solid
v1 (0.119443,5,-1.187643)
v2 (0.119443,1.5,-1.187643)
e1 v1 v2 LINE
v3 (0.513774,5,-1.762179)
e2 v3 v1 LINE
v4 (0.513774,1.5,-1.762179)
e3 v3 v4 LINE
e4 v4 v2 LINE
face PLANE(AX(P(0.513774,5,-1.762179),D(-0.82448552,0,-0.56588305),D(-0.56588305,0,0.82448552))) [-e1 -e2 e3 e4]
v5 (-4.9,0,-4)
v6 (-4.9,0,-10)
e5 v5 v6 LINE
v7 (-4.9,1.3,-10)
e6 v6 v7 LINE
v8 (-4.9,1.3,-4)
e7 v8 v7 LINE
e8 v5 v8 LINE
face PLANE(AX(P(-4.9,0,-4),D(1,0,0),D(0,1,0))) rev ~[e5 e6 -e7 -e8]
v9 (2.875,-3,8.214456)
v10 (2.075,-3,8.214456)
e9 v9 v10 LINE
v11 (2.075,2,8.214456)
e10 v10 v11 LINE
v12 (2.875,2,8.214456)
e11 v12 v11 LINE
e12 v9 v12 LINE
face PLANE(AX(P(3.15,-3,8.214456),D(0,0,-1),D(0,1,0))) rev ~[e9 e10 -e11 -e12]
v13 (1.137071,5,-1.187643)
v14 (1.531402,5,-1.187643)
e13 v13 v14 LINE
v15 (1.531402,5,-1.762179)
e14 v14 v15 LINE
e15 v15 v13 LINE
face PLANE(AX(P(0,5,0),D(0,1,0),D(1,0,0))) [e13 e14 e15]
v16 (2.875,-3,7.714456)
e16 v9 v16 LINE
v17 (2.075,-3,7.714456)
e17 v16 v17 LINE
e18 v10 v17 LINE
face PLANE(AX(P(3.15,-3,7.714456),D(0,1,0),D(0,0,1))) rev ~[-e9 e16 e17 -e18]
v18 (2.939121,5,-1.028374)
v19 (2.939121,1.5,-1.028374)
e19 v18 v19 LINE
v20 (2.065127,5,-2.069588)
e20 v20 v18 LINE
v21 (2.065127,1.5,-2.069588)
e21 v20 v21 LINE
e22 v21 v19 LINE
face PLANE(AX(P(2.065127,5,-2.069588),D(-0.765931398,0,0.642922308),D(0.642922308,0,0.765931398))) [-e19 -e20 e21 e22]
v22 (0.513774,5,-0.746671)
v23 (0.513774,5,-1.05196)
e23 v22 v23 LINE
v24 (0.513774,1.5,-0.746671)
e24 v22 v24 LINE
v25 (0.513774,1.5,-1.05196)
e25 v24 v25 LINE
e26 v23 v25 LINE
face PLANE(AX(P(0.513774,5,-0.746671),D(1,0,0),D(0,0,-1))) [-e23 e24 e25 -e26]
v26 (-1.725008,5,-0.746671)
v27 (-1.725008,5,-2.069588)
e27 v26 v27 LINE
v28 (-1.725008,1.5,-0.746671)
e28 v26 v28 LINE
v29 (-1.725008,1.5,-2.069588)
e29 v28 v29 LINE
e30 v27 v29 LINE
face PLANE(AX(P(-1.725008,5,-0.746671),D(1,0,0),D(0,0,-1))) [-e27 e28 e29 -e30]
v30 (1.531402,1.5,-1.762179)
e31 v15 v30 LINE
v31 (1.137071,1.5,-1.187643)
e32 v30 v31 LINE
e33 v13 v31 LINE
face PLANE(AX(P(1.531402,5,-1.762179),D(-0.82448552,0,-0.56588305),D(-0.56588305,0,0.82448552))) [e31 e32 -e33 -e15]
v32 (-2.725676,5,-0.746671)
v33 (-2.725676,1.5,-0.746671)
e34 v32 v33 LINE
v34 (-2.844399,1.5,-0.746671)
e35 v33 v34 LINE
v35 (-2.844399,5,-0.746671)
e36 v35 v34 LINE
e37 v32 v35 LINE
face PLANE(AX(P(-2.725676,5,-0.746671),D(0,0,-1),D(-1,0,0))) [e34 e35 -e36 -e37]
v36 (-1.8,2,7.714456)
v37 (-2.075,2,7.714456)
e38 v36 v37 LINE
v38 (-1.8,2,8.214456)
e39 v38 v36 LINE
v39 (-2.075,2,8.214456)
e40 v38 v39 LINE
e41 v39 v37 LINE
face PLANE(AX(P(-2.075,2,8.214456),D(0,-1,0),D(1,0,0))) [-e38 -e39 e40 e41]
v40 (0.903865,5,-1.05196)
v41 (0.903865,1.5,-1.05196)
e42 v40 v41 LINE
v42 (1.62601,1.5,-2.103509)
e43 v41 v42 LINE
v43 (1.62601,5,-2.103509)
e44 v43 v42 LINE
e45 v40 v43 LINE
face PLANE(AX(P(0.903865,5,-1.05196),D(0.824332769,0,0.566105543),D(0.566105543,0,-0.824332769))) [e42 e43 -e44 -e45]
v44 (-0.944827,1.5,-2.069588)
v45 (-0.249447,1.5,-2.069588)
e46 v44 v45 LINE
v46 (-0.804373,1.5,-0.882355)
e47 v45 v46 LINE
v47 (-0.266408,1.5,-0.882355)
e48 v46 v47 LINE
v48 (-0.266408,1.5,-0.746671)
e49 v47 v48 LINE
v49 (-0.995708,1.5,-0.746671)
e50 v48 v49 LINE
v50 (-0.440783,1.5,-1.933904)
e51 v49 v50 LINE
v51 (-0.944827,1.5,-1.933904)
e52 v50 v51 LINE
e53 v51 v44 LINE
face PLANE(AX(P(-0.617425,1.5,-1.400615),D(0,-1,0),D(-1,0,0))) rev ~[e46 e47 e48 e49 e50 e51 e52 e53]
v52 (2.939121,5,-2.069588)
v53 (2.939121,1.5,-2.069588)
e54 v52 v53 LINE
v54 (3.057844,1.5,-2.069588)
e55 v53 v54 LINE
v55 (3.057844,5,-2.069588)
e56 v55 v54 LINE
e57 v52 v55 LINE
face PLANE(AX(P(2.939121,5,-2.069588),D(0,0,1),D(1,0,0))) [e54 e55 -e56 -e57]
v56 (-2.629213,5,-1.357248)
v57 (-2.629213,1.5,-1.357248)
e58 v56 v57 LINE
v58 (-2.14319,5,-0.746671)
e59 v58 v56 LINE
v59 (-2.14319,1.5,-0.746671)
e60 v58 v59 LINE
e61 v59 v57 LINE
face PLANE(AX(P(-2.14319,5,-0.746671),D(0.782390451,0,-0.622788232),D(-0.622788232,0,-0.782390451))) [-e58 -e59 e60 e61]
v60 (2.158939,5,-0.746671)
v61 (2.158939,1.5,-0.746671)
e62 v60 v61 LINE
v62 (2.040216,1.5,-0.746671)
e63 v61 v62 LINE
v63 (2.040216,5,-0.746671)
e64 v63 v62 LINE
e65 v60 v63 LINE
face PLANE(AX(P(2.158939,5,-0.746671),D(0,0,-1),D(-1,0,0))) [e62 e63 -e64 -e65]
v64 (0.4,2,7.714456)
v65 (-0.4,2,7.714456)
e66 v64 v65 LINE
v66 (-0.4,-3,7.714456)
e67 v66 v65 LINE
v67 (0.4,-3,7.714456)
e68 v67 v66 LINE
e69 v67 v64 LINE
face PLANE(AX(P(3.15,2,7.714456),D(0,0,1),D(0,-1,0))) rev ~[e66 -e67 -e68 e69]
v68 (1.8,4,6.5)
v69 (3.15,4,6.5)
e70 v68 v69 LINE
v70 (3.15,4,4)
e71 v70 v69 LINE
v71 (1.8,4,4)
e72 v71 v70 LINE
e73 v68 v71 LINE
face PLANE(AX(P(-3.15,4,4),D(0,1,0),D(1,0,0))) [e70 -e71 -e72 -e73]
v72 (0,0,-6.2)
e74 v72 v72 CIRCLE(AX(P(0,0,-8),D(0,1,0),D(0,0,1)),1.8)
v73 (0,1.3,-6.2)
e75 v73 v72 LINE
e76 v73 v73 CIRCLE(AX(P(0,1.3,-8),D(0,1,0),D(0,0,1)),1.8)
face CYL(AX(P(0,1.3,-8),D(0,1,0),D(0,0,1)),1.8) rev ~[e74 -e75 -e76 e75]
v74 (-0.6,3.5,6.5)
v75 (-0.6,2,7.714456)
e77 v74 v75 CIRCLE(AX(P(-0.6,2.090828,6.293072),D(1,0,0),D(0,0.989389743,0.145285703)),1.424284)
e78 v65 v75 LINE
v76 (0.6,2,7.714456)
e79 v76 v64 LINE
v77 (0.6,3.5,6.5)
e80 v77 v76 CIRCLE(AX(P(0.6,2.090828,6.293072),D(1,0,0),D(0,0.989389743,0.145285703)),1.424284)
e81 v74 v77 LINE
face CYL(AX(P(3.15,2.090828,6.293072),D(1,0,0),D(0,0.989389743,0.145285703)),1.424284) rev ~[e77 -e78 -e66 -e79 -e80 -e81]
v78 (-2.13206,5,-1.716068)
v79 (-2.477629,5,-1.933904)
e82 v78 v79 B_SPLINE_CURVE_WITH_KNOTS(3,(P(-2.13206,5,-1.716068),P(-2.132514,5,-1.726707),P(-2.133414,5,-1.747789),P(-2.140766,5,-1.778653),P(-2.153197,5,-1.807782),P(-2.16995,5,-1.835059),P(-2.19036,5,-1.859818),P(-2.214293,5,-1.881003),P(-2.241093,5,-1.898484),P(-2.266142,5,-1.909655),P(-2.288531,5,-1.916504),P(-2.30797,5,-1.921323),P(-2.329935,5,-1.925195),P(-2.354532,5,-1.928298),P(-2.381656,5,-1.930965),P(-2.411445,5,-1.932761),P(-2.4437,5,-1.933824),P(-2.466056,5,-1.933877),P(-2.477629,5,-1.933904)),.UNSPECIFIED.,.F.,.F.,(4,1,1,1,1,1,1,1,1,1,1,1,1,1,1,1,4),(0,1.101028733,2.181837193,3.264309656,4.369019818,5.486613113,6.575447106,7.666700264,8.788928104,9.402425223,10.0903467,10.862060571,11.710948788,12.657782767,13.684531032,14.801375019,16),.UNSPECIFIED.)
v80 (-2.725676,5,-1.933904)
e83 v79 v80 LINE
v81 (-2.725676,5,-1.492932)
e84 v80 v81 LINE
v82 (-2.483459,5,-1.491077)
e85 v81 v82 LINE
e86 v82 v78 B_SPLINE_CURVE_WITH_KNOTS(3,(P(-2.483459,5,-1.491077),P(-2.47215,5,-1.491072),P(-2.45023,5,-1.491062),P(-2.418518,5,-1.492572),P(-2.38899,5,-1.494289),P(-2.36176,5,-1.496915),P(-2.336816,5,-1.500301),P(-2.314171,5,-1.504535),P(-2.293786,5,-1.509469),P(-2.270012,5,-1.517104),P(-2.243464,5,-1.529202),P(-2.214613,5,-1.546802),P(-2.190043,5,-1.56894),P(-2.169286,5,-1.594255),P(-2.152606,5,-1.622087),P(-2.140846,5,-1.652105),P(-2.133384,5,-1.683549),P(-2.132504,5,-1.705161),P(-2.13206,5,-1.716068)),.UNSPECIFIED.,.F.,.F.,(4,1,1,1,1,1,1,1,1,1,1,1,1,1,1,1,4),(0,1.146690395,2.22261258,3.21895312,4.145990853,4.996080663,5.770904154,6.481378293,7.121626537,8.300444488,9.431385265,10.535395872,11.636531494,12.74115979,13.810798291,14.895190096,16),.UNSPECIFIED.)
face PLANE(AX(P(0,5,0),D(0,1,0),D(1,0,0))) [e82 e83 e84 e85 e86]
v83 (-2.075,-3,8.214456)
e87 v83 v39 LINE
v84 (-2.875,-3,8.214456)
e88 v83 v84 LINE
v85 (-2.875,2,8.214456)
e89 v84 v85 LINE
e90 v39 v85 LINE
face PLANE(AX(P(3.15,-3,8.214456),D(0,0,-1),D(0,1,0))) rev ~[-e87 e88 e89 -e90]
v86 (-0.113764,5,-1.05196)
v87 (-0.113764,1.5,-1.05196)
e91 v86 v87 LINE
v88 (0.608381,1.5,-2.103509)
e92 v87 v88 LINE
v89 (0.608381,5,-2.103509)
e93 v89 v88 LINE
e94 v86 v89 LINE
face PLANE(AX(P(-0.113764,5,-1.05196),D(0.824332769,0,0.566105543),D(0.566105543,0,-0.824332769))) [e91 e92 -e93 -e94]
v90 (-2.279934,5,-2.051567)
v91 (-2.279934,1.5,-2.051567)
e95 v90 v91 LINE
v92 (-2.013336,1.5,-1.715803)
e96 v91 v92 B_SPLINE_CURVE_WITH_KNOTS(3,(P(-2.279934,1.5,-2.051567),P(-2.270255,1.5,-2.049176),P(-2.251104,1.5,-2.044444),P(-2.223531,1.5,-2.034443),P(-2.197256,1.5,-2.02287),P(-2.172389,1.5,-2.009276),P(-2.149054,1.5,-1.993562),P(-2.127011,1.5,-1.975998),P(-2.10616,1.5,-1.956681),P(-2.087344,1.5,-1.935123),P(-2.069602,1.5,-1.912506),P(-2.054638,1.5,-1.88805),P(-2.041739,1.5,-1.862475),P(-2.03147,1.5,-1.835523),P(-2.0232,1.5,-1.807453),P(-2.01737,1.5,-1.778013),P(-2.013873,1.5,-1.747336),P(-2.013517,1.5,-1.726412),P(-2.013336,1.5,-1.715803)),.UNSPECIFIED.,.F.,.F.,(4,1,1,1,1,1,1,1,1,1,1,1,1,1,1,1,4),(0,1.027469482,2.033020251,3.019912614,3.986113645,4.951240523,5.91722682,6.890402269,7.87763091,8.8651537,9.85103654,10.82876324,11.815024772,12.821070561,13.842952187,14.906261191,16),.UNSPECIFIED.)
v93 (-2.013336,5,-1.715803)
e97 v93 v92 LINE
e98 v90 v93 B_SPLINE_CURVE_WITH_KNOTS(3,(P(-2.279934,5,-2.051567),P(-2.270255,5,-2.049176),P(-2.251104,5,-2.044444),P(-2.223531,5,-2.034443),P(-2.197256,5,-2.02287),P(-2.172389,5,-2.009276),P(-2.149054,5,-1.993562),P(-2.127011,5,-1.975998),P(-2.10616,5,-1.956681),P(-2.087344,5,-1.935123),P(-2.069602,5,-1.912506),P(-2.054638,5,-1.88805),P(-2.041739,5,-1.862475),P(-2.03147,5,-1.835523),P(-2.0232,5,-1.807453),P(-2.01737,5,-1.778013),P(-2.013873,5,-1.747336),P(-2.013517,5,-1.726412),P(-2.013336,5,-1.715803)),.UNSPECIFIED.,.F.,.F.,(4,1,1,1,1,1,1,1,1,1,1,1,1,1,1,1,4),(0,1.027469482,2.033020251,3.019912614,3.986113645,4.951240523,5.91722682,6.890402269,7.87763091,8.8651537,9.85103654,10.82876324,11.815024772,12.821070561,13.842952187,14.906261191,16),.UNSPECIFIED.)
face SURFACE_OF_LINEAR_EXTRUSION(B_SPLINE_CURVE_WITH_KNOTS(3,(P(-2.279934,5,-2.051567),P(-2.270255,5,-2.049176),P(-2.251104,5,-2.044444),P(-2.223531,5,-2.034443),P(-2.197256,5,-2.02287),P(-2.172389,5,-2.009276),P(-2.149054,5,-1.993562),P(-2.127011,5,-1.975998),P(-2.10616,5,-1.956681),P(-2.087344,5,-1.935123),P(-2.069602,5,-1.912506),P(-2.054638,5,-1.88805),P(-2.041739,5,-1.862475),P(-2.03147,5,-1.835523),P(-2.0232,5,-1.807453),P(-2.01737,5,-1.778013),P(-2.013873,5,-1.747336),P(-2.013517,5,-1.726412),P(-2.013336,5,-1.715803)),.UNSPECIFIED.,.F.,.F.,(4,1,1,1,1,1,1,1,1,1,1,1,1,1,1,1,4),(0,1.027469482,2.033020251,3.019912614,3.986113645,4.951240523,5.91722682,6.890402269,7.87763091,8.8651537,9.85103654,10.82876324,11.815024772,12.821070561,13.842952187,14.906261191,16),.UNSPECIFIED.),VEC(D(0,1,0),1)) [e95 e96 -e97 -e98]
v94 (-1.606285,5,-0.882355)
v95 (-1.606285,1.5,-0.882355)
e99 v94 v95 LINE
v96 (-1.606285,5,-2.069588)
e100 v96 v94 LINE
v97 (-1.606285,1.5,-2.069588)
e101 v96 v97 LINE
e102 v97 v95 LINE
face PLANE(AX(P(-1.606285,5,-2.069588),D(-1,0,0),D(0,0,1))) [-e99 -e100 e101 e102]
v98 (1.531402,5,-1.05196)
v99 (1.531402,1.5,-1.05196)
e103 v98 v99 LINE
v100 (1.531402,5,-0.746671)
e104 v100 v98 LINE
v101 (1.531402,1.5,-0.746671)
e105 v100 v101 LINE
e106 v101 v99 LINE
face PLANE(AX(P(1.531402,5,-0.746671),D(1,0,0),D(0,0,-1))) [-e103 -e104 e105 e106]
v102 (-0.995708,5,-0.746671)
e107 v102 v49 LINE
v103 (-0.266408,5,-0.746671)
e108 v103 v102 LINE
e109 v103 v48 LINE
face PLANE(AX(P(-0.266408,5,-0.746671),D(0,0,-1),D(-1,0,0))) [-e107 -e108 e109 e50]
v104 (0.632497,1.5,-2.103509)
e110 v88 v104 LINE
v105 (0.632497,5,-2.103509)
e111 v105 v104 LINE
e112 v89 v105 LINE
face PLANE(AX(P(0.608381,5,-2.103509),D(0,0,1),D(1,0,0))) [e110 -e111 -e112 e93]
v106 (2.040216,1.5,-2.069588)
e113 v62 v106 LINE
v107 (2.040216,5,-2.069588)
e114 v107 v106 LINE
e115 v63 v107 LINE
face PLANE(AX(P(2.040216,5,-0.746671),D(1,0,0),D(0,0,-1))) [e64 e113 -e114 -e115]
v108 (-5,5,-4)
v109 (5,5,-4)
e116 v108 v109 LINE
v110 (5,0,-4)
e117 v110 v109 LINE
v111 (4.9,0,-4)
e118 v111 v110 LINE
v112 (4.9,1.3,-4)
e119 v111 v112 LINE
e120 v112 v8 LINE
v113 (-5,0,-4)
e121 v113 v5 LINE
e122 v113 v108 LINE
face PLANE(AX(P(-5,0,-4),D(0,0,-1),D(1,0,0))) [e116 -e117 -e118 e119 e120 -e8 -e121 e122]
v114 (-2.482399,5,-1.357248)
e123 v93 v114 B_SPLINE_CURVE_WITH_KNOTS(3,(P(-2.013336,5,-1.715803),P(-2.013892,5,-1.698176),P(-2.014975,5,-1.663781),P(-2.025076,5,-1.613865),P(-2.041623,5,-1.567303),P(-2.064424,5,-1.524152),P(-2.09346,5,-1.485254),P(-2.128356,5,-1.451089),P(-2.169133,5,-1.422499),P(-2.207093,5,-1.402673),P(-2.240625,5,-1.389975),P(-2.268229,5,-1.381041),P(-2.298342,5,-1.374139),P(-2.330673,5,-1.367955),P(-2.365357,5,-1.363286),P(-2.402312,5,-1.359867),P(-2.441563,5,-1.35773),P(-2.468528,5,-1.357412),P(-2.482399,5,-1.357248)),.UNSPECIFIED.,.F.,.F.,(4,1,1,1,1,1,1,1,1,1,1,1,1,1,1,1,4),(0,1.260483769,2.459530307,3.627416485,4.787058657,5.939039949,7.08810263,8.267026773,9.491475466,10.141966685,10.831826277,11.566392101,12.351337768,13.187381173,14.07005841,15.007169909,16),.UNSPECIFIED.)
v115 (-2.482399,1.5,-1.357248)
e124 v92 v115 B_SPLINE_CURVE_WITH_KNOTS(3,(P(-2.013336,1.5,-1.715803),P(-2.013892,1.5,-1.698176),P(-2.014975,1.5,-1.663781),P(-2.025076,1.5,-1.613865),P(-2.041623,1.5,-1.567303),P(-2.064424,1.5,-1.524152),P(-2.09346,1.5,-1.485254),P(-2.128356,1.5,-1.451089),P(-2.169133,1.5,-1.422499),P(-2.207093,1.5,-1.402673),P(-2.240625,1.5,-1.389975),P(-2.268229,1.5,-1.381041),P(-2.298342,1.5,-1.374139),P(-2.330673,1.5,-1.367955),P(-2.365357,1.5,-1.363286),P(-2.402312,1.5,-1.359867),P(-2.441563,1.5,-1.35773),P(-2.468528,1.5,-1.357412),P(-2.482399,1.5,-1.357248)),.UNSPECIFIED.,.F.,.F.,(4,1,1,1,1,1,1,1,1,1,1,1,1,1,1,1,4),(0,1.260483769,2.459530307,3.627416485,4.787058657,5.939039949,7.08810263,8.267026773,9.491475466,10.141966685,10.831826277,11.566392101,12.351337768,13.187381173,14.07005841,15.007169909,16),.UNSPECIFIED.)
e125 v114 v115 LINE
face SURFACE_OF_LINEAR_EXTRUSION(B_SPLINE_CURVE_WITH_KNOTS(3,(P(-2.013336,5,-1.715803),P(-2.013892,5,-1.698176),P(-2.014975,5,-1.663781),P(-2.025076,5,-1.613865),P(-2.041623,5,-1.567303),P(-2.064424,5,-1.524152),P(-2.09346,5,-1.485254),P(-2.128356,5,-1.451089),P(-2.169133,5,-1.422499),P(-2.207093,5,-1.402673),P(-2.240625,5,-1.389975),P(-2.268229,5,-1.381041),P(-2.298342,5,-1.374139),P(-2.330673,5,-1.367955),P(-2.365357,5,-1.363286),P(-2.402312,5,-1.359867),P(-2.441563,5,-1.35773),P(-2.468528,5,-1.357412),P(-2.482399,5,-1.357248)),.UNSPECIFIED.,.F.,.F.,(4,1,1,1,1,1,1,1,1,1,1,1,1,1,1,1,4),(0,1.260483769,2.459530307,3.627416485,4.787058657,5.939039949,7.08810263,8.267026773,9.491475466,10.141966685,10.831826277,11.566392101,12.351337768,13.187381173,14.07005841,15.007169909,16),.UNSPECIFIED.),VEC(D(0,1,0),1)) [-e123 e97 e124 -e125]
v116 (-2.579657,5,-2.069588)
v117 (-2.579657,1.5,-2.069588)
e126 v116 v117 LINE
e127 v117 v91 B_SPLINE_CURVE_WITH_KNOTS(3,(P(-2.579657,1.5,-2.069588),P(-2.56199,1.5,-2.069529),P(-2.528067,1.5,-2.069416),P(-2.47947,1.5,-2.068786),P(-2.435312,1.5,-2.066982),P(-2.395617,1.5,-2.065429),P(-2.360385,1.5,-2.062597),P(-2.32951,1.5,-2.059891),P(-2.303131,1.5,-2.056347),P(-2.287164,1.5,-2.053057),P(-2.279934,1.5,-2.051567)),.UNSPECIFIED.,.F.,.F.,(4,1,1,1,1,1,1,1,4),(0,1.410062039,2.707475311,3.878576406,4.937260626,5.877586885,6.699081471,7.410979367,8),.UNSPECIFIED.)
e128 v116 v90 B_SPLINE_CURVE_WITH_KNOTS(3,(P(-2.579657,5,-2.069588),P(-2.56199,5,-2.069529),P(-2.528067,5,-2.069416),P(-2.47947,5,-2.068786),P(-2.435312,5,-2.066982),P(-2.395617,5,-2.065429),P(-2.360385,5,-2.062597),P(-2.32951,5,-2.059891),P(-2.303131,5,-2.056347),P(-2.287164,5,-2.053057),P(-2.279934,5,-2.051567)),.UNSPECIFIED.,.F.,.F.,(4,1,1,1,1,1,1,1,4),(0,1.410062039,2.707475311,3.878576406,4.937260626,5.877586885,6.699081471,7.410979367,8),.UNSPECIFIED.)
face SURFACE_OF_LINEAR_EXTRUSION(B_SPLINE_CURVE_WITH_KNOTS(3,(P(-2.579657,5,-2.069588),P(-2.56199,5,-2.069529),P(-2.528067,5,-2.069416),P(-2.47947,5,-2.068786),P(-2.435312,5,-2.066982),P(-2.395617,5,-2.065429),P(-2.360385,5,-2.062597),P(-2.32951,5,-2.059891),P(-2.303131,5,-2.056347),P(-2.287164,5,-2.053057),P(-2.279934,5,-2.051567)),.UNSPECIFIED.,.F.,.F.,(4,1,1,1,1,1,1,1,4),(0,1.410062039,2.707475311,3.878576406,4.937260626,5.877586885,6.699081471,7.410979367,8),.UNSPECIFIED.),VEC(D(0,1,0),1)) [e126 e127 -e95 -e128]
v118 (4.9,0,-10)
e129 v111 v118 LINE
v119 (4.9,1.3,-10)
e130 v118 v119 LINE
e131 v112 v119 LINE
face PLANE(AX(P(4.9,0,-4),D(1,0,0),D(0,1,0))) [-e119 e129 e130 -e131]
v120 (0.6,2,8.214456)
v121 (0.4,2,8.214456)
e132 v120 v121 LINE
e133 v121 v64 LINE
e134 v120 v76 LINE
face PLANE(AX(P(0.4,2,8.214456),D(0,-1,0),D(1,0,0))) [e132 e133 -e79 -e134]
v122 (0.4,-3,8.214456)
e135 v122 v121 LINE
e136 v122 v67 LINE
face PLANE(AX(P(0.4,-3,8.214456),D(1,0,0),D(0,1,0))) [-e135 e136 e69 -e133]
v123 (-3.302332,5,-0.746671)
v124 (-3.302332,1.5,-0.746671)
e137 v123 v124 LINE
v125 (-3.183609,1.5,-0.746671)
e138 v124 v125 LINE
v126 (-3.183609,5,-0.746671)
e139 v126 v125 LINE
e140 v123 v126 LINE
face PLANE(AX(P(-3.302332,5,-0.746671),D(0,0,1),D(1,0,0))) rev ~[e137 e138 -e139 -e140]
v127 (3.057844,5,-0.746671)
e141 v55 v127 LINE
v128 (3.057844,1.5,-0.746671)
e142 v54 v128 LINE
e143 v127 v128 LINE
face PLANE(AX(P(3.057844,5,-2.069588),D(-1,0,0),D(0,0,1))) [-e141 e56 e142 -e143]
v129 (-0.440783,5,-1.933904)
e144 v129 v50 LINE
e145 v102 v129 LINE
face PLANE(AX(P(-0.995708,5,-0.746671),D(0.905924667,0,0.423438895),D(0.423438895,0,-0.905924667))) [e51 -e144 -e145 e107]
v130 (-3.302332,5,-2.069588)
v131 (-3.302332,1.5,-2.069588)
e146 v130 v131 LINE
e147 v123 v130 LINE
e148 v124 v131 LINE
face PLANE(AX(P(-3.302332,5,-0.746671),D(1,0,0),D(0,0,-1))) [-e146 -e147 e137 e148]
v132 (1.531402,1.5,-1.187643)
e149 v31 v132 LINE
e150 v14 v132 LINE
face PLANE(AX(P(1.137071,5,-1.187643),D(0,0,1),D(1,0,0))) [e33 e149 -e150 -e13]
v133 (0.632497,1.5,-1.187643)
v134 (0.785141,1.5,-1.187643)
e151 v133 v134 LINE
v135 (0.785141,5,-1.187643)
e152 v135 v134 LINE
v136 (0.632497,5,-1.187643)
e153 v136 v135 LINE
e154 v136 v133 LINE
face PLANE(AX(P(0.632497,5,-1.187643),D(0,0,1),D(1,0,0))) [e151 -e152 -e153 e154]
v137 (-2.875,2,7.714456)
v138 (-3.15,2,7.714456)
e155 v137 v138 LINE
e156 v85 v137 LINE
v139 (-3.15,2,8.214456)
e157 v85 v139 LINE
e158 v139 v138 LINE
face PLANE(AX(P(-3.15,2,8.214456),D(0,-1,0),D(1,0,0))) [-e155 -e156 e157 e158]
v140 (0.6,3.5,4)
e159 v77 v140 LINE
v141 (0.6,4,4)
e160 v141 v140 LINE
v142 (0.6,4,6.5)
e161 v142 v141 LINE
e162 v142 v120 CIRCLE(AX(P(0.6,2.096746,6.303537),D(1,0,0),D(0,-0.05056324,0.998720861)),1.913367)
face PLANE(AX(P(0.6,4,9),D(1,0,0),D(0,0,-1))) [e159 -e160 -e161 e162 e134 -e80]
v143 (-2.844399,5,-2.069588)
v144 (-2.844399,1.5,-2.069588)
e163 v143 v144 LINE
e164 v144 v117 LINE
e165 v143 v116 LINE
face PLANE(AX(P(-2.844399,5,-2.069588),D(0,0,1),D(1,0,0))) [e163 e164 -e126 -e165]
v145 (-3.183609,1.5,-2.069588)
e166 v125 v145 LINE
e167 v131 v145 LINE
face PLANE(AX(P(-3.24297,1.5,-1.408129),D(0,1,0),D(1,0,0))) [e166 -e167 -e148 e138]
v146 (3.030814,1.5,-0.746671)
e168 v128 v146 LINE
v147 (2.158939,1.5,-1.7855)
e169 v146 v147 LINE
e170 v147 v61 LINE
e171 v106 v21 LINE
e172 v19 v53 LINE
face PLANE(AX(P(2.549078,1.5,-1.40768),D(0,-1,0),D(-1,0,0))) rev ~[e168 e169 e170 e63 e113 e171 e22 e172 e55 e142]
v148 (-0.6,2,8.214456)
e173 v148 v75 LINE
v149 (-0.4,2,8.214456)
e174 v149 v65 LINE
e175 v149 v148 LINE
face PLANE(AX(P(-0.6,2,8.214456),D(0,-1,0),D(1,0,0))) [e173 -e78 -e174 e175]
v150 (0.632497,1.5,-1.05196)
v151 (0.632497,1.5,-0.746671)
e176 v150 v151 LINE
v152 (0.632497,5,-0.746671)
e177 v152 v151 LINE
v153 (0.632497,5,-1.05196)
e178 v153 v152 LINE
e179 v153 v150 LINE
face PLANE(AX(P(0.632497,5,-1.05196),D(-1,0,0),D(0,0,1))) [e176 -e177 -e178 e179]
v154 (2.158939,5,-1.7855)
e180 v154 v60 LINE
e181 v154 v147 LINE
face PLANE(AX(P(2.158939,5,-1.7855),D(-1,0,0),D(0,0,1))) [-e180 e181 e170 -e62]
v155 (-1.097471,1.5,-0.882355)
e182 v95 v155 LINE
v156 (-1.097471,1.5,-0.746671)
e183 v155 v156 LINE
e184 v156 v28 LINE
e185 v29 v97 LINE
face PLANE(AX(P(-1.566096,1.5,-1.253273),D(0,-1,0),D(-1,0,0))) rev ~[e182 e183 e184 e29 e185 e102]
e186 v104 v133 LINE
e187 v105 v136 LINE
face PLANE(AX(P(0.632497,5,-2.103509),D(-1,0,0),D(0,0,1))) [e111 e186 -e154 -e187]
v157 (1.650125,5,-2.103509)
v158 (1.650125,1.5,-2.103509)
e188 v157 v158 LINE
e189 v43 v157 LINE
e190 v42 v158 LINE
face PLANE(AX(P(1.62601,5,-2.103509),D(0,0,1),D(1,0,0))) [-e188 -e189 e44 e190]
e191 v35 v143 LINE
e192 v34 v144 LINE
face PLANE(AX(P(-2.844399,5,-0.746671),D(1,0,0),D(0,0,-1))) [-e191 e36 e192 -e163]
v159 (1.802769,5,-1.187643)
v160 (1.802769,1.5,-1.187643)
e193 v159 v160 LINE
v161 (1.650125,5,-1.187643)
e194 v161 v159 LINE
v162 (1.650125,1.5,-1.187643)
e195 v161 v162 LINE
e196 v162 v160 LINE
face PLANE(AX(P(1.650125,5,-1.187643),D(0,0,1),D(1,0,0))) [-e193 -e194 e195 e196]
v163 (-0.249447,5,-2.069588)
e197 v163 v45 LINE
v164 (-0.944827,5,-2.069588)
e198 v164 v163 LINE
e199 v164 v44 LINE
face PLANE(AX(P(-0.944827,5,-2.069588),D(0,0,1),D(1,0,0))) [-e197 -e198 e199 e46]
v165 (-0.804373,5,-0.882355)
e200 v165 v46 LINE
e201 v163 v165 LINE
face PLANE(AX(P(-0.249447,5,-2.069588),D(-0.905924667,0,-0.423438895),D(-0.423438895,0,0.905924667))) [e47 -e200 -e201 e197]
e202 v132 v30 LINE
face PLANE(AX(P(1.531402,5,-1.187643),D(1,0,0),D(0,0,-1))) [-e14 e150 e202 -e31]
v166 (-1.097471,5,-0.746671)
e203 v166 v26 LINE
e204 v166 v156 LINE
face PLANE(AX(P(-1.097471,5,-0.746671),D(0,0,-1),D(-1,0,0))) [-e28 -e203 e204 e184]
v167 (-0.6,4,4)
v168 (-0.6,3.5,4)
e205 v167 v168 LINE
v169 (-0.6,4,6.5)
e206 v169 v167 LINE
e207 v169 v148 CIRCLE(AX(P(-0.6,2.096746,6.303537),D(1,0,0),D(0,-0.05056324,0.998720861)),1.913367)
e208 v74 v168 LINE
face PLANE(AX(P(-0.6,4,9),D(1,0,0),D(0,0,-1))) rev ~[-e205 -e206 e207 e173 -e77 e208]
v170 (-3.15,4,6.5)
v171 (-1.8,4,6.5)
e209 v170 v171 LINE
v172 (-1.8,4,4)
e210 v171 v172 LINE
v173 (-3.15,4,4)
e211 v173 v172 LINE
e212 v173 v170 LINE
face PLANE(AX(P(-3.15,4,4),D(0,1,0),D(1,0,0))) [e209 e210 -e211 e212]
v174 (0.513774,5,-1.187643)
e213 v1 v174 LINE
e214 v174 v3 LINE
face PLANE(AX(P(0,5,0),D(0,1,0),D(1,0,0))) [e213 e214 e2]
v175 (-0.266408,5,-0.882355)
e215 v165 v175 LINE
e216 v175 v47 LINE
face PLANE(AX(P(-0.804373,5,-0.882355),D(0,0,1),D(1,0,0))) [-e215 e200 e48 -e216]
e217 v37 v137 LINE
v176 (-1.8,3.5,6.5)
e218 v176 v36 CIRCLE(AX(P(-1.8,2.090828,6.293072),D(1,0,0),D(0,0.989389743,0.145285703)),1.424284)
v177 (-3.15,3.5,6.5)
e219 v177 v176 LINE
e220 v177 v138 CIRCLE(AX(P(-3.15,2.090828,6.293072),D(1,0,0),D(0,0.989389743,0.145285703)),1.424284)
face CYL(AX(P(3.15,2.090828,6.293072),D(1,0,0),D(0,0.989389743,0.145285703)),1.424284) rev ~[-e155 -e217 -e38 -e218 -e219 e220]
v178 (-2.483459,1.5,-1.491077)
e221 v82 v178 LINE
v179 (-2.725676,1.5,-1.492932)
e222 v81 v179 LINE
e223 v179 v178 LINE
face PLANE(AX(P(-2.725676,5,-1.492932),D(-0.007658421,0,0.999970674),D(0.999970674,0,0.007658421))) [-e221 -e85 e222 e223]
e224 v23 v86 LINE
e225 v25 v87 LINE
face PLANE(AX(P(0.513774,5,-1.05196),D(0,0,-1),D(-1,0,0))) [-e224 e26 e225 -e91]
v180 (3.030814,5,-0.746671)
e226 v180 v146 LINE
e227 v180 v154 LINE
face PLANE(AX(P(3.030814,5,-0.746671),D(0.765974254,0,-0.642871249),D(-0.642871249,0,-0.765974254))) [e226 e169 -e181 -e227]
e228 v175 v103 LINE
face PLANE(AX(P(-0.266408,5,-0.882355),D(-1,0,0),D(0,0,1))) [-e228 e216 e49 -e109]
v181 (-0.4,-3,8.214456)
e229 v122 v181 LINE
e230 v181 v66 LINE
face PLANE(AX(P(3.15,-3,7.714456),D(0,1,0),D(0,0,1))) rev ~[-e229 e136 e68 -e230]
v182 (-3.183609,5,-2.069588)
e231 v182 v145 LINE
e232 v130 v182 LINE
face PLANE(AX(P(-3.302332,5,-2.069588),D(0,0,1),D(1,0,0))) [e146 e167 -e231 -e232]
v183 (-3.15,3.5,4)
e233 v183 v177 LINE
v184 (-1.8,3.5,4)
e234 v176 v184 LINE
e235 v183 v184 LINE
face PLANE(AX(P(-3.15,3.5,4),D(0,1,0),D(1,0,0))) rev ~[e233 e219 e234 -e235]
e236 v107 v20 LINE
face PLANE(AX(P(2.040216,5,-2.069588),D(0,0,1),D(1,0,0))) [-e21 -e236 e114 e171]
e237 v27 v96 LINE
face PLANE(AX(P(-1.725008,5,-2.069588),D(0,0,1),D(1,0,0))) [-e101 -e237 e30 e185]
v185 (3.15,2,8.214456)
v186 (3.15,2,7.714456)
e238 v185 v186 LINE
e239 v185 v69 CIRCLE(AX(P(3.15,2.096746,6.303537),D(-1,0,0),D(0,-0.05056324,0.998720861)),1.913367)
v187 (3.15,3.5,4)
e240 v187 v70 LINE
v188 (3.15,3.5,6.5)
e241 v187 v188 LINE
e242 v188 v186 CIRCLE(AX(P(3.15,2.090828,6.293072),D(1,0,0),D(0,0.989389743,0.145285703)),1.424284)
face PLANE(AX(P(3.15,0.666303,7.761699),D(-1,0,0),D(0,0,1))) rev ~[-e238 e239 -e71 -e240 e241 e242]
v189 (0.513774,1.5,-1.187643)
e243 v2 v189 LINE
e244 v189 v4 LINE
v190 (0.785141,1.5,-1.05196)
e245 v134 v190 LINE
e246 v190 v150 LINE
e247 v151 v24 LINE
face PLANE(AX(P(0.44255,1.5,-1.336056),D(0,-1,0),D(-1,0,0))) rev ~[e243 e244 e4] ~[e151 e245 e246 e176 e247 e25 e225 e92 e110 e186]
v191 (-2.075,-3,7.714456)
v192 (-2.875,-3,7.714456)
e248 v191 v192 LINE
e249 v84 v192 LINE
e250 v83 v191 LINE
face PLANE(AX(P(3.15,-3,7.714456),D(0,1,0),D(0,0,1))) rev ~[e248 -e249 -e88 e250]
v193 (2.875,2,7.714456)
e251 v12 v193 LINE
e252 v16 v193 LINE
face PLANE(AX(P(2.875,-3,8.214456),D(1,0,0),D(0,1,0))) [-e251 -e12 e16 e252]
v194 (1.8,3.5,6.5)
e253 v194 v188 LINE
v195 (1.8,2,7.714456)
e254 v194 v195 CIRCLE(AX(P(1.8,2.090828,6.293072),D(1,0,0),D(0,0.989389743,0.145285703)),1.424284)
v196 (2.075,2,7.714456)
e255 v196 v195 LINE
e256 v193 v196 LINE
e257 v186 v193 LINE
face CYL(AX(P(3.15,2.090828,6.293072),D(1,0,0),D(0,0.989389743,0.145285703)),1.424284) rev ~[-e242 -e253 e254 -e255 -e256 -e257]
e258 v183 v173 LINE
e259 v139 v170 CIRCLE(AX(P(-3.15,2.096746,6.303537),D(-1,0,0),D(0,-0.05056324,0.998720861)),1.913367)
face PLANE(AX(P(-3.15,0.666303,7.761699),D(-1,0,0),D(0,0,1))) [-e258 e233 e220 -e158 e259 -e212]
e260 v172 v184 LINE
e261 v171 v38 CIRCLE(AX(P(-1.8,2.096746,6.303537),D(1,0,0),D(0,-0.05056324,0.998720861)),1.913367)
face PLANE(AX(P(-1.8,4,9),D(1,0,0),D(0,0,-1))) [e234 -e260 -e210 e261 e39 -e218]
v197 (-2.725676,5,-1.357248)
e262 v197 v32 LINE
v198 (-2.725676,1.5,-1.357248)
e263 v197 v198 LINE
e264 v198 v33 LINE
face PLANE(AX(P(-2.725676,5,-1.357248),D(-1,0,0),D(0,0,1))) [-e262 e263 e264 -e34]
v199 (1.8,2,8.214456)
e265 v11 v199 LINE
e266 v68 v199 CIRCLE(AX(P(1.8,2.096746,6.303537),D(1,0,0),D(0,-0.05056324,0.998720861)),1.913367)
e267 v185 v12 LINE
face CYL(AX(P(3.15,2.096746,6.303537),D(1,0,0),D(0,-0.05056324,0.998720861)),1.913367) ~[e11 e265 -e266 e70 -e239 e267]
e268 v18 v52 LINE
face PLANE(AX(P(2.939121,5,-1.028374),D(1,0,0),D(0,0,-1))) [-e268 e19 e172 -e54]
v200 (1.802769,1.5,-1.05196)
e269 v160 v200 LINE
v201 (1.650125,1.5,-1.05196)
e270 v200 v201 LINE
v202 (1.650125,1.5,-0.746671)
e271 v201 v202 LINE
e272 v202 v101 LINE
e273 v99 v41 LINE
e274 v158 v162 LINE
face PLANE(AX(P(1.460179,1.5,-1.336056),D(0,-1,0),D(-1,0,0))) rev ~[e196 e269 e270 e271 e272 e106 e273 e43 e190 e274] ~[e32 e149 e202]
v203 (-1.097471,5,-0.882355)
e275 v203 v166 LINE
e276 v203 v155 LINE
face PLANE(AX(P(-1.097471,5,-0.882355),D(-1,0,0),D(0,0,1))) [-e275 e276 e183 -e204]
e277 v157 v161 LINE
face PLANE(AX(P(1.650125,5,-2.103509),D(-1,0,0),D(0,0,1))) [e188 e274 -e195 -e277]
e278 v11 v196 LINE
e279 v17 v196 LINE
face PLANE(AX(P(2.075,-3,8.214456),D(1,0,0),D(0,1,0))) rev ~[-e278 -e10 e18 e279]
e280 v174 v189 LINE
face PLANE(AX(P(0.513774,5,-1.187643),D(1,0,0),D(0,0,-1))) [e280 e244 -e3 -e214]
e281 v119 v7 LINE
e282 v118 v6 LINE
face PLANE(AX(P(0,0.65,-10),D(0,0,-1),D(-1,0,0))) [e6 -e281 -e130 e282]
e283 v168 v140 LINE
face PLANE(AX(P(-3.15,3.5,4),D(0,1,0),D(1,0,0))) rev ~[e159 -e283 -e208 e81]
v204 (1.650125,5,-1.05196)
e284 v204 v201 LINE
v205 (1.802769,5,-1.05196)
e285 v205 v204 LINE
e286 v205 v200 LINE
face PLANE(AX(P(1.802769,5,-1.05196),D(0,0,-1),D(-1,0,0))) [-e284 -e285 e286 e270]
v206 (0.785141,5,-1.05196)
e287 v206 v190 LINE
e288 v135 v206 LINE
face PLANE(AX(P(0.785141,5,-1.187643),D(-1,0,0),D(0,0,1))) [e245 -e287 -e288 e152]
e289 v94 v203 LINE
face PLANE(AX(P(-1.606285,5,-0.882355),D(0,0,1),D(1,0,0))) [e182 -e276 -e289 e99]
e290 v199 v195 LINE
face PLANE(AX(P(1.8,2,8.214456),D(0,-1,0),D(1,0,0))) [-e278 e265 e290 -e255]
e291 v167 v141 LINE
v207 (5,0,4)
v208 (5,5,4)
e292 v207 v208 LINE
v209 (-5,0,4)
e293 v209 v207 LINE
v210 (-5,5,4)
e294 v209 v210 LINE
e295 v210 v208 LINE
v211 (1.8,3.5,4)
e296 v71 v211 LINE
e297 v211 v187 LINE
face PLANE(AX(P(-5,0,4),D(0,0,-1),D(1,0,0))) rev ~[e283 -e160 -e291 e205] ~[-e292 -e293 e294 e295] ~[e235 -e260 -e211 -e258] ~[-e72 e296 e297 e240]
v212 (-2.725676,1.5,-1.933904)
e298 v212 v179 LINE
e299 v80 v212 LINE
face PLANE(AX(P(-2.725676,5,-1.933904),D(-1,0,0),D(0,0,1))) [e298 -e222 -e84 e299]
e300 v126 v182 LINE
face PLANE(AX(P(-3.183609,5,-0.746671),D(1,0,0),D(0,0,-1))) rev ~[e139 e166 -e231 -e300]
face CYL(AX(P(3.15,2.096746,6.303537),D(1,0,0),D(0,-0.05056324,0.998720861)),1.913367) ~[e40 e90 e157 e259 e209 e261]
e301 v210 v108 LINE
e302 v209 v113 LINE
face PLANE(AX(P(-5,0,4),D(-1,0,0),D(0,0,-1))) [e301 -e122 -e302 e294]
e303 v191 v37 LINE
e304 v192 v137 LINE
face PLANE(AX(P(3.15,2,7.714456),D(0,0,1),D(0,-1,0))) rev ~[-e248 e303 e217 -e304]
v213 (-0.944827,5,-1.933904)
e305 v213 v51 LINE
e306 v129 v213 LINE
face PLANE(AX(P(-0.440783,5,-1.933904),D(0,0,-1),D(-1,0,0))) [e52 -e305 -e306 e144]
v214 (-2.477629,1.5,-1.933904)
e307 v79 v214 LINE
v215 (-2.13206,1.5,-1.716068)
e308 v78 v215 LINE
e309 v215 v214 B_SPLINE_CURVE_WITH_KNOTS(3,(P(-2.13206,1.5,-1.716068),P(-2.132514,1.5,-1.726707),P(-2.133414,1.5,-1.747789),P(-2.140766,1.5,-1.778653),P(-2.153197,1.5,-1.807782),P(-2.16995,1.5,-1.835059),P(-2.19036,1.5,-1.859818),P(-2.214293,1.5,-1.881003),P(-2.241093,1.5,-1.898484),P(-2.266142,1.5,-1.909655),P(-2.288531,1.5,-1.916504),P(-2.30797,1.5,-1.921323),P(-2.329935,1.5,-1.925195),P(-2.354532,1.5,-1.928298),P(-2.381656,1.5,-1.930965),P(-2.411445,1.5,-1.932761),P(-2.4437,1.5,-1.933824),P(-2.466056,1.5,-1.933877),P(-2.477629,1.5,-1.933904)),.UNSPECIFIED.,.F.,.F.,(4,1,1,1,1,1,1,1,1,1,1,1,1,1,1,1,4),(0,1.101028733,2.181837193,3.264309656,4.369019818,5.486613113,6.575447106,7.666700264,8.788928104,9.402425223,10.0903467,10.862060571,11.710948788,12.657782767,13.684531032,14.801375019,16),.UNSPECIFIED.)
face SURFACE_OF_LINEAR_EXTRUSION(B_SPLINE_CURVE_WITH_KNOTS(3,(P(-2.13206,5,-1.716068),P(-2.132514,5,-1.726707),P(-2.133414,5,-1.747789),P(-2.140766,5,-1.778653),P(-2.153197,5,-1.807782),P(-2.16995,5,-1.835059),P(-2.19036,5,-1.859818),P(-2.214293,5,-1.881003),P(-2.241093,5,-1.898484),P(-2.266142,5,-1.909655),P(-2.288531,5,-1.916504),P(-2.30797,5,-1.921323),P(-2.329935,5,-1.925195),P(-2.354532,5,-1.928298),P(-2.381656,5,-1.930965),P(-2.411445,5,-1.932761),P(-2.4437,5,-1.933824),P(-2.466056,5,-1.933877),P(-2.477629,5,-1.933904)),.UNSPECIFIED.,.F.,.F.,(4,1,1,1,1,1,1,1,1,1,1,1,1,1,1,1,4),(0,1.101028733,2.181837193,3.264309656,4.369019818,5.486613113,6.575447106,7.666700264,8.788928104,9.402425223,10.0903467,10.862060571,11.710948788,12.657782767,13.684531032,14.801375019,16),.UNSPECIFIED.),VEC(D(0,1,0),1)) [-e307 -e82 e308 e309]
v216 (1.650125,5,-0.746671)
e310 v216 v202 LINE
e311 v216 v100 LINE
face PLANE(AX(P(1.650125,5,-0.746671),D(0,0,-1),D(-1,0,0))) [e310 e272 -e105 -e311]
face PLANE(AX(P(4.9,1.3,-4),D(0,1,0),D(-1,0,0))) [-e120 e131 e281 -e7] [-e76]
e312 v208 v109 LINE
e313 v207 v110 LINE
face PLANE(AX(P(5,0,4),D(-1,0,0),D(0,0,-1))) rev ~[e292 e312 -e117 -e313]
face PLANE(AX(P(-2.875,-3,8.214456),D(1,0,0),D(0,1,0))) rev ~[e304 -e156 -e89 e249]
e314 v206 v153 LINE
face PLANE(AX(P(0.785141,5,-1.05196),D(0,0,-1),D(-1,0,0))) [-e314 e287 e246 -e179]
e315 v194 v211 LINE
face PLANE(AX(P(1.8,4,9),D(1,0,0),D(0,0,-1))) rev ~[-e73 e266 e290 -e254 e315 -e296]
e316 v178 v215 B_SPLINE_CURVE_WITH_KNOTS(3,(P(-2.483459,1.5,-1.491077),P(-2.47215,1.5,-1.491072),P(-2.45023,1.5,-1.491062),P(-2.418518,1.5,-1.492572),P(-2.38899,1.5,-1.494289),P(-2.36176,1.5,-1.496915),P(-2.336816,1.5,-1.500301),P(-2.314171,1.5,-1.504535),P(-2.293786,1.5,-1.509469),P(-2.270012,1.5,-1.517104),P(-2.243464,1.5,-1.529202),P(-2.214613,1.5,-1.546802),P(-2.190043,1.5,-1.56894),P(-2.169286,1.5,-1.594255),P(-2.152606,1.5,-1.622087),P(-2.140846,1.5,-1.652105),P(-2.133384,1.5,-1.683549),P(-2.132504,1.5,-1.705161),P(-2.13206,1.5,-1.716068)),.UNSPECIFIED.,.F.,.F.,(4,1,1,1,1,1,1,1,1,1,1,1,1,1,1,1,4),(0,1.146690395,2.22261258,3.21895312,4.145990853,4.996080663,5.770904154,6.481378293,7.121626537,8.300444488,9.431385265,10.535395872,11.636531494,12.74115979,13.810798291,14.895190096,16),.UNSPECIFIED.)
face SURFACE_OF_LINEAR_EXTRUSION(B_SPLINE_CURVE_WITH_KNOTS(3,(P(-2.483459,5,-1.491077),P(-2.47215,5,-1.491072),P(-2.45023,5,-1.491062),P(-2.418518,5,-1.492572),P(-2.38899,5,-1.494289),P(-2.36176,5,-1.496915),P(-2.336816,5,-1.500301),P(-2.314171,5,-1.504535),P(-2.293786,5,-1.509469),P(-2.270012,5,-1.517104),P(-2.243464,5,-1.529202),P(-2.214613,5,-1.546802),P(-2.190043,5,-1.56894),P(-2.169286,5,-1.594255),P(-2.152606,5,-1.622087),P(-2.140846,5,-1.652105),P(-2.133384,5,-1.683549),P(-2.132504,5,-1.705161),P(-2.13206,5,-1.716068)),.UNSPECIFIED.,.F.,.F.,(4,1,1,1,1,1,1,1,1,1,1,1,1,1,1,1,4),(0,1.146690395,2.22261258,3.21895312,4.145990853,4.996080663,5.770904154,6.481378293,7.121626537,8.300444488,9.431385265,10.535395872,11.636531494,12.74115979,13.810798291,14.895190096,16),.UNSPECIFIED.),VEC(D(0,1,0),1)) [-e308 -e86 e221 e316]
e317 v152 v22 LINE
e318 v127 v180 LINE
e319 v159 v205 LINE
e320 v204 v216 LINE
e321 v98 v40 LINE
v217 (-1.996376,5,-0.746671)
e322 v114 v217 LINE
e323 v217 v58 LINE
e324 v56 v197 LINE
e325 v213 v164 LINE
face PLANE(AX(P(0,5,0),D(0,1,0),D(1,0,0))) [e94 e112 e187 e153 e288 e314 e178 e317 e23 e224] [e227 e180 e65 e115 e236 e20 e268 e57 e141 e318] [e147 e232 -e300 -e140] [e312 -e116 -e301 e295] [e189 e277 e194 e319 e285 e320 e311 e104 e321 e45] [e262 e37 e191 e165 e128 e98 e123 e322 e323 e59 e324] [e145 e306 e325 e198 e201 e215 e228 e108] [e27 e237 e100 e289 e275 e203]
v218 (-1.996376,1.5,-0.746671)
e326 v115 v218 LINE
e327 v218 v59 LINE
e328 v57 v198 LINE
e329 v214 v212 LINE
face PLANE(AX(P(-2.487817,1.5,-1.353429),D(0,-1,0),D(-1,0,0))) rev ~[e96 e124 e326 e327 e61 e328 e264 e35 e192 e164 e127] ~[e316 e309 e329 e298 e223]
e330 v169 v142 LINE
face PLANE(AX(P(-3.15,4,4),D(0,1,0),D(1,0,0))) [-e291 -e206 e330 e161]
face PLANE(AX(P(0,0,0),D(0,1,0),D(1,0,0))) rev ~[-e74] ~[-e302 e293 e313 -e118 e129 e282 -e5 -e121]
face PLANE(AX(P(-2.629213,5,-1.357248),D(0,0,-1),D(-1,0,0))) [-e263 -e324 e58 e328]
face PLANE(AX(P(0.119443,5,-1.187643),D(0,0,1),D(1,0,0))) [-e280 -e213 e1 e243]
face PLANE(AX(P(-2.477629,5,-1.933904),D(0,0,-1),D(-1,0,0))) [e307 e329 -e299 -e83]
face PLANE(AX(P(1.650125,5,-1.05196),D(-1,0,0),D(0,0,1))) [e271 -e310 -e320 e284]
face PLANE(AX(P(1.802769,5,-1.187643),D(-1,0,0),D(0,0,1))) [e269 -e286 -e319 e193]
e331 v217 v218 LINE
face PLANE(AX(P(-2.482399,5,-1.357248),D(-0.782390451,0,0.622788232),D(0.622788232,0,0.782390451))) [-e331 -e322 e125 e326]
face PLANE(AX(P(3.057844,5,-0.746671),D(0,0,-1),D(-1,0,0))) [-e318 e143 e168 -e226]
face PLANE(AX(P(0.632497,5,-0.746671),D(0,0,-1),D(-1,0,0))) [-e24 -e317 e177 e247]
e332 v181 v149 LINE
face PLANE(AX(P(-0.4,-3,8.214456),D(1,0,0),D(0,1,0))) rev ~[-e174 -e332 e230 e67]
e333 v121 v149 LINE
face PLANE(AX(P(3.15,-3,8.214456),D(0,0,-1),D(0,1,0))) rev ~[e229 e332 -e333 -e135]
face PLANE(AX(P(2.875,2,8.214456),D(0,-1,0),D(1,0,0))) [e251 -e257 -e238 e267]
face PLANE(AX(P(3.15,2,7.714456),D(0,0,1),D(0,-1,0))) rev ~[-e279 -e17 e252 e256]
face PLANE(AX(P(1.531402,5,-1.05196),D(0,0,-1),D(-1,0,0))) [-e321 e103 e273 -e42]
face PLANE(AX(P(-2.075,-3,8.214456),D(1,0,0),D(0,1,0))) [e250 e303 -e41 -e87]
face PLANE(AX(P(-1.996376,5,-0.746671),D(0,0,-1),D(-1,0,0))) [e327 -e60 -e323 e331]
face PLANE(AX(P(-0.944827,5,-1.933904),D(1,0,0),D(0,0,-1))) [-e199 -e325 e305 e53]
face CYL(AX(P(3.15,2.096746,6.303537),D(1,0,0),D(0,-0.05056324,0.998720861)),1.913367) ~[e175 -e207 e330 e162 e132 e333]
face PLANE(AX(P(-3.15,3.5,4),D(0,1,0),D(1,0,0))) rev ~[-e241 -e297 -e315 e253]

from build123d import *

# Parameters (mm, degrees)
SKETCH1_W           = 10
SKETCH1_H           = 8
BOSS_EXTRUDE1_DEPTH = 5
SKETCH2_W           = 9.8
SKETCH2_H           = 1.3
BOSS_EXTRUDE2_DEPTH = 6
SKETCH3_W           = 6.3
SKETCH3_H           = 0.5
BOSS_EXTRUDE3_DEPTH = 2.5
BOSS_EXTRUDE4_START = -6.3
BOSS_EXTRUDE4_DEPTH = 6.3
SKETCH5_W           = 1.2
SKETCH5_H           = 5
CUT_EXTRUDE1_DEPTH  = 14.190905958
SKETCH6_W           = 0.275
SKETCH6_H           = 5
SKETCH6_W_2         = 0.2
CUT_EXTRUDE2_DEPTH  = 3.5
SKETCH7_R           = 1.8
CUT_EXTRUDE3_DEPTH  = 3.5
SKETCH8_W           = 0.11872329
SKETCH8_H           = 1.322916667
CUT_EXTRUDE4_DEPTH  = 3.5


with BuildPart() as part:
    # Sketch1 → Boss-Extrude1 (new body)
    with BuildSketch(Plane(origin=(0, 0, 0), x_dir=(1, 0, 0), z_dir=(0, 1, 0))):
        Rectangle(SKETCH1_W, SKETCH1_H)
    extrude(amount=BOSS_EXTRUDE1_DEPTH)

    # Sketch2 → Boss-Extrude2 (add)
    with BuildSketch(Plane(origin=(0, 0, -4), x_dir=(-1, 0, 0), z_dir=(0, 0, -1))):
        with Locations((0, 0.65)):
            Rectangle(SKETCH2_W, SKETCH2_H)
    extrude(amount=BOSS_EXTRUDE2_DEPTH)

    # Sketch3 → Boss-Extrude3 (add)
    with BuildSketch(Plane.XY.offset(4)):
        with Locations((0, 3.75)):
            Rectangle(SKETCH3_W, SKETCH3_H)
    extrude(amount=BOSS_EXTRUDE3_DEPTH)

    # Sketch4 → Boss-Extrude4 (add)
    with BuildSketch(Plane.ZY.offset(3.15).offset(BOSS_EXTRUDE4_START)):
        with BuildLine():
            Line((7.714456463, 2), (7.714456463, -3))
            Line((7.714456463, -3), (8.214456463, -3))
            Line((8.214456463, -3), (8.214456463, 2))
            ThreePointArc((8.214456463, 2), (7.756212161, 3.342020289), (6.5, 4))
            Line((6.5, 4), (6.5, 3.5))
            ThreePointArc((6.5, 3.5), (7.40002744, 2.98706126), (7.714456463, 2))
        make_face()
    extrude(amount=BOSS_EXTRUDE4_DEPTH)

    # Sketch5 → Cut-Extrude1 (cut, through all)
    with BuildSketch(Plane(origin=(0, 4, 0), x_dir=(1, 0, 0), z_dir=(0, 1, 0))):
        with Locations((-1.2, -6.5)):
            Rectangle(SKETCH5_W, SKETCH5_H)
        with Locations((1.2, -6.5)):
            Rectangle(SKETCH5_W, SKETCH5_H)
    extrude(amount=-CUT_EXTRUDE1_DEPTH, mode=Mode.SUBTRACT)

    # Sketch6 → Cut-Extrude2 (cut)
    with BuildSketch(Plane.XY.offset(8.214456463)):
        with Locations((-3.0125, -0.5)):
            Rectangle(SKETCH6_W, SKETCH6_H)
        with Locations((-1.9375, -0.5)):
            Rectangle(SKETCH6_W, SKETCH6_H)
        with Locations((-0.5, -0.5)):
            Rectangle(SKETCH6_W_2, SKETCH6_H)
        with Locations((0.5, -0.5)):
            Rectangle(SKETCH6_W_2, SKETCH6_H)
        with Locations((1.9375, -0.5)):
            Rectangle(SKETCH6_W, SKETCH6_H)
        with Locations((3.0125, -0.5)):
            Rectangle(SKETCH6_W, SKETCH6_H)
    extrude(amount=-CUT_EXTRUDE2_DEPTH, mode=Mode.SUBTRACT)

    # Sketch7 → Cut-Extrude3 (cut)
    with BuildSketch(Plane(origin=(0, 1.3, 0), x_dir=(1, 0, 0), z_dir=(0, 1, 0))):
        with Locations(Location((0, 8, 0), (0, 0, 270))):
            Circle(SKETCH7_R)
    extrude(amount=-CUT_EXTRUDE3_DEPTH, mode=Mode.SUBTRACT)

    # Sketch8 → Cut-Extrude4 (cut)
    # profile 1 of 7: a face of its own
    with BuildSketch(Plane(origin=(0, 5, 0), x_dir=(1, 0, 0), z_dir=(0, 1, 0))):
        with Locations((-3.24297038, 1.408129396)):
            Rectangle(SKETCH8_W, SKETCH8_H)
    # profile 2 of 7: a face of its own
    with BuildSketch(Plane(origin=(0, 5, 0), x_dir=(1, 0, 0), z_dir=(0, 1, 0))):
        with BuildLine():
            Line((-2.844399333, 2.069587729), (-2.579656995, 2.069587729))
            add(Edge.make_bspline(
                [(-2.579656995, 2.069587729), (-2.561989961, 2.069528921), (-2.5280673, 2.069416003), (-2.479469665, 2.068786385), (-2.435311804, 2.066981792), (-2.395616805, 2.065428845), (-2.360385397, 2.06259707), (-2.329509546, 2.059890516), (-2.303131458, 2.056347495), (-2.287163532, 2.053057052), (-2.279933688, 2.051567229)],
                knots=[0, 0, 0, 0, 1.410062039, 2.707475311, 3.878576406, 4.937260626, 5.877586885, 6.699081471, 7.410979367, 8, 8, 8, 8], degree=3))
            add(Edge.make_bspline(
                [(-2.279933688, 2.051567229), (-2.270254994, 2.049175863), (-2.251104078, 2.044444144), (-2.22353069, 2.034443045), (-2.19725593, 2.022869555), (-2.172388943, 2.009276125), (-2.149054284, 1.993561849), (-2.127011351, 1.975998005), (-2.106160119, 1.956680698), (-2.087343849, 1.935122886), (-2.069602005, 1.91250611), (-2.054638446, 1.88804963), (-2.04173945, 1.862475184), (-2.031469641, 1.835522678), (-2.023200288, 1.807453496), (-2.017369537, 1.778013385), (-2.013872808, 1.747336469), (-2.013516809, 1.726412498), (-2.013336299, 1.715802923)],
                knots=[0, 0, 0, 0, 1.027469482, 2.033020251, 3.019912614, 3.986113645, 4.951240523, 5.91722682, 6.890402269, 7.87763091, 8.8651537, 9.85103654, 10.82876324, 11.815024772, 12.821070561, 13.842952187, 14.906261191, 16, 16, 16, 16], degree=3))
            add(Edge.make_bspline(
                [(-2.013336299, 1.715802923), (-2.013891545, 1.698175964), (-2.014974974, 1.663781201), (-2.025076427, 1.613865332), (-2.041622909, 1.567302704), (-2.064423676, 1.524151945), (-2.093459609, 1.485254172), (-2.128356182, 1.451088732), (-2.169132862, 1.422498646), (-2.207092753, 1.402672734), (-2.240624608, 1.389975415), (-2.268229461, 1.381041434), (-2.298341682, 1.374138846), (-2.330672758, 1.367955106), (-2.365357235, 1.363286459), (-2.402311982, 1.359867062), (-2.441563355, 1.357729966), (-2.468527824, 1.357411708), (-2.482399299, 1.357247985)],
                knots=[0, 0, 0, 0, 1.260483769, 2.459530307, 3.627416485, 4.787058657, 5.939039949, 7.08810263, 8.267026773, 9.491475466, 10.141966685, 10.831826277, 11.566392101, 12.351337768, 13.187381173, 14.07005841, 15.007169909, 16, 16, 16, 16], degree=3))
            Line((-2.482399299, 1.357247985), (-1.996375829, 0.746671062))
            Line((-1.996375829, 0.746671062), (-2.143189898, 0.746671062))
            Line((-2.143189898, 0.746671062), (-2.629213369, 1.357247985))
            Line((-2.629213369, 1.357247985), (-2.725676042, 1.357247985))
            Line((-2.725676042, 1.357247985), (-2.725676042, 0.746671062))
            Line((-2.725676042, 0.746671062), (-2.844399333, 0.746671062))
            Line((-2.844399333, 0.746671062), (-2.844399333, 2.069587729))
        make_face()
        with BuildLine():
            Line((-2.725676042, 1.933903968), (-2.725676042, 1.492931746))
            Line((-2.725676042, 1.492931746), (-2.483459329, 1.491076694))
            add(Edge.make_bspline(
                [(-2.483459329, 1.491076694), (-2.472150266, 1.491071691), (-2.450230083, 1.491061994), (-2.418517629, 1.492571546), (-2.388990087, 1.494288812), (-2.361760398, 1.496915499), (-2.336816398, 1.500300681), (-2.314170554, 1.504535143), (-2.2937859, 1.509468511), (-2.27001175, 1.517104245), (-2.243464014, 1.529201758), (-2.214612539, 1.546802408), (-2.190043203, 1.56894014), (-2.169285559, 1.594254512), (-2.152605685, 1.622087261), (-2.140846069, 1.652104758), (-2.133383896, 1.683549201), (-2.132503761, 1.705161164), (-2.132059589, 1.71606793)],
                knots=[0, 0, 0, 0, 1.146690395, 2.22261258, 3.21895312, 4.145990853, 4.996080663, 5.770904154, 6.481378293, 7.121626537, 8.300444488, 9.431385265, 10.535395872, 11.636531494, 12.74115979, 13.810798291, 14.895190096, 16, 16, 16, 16], degree=3))
            add(Edge.make_bspline(
                [(-2.132059589, 1.71606793), (-2.132513962, 1.726706665), (-2.133414364, 1.747788755), (-2.140765536, 1.778652745), (-2.153196939, 1.807782217), (-2.169949689, 1.835058675), (-2.190360084, 1.859818283), (-2.21429271, 1.881002772), (-2.241093185, 1.898483969), (-2.26614212, 1.909654821), (-2.288531242, 1.916503694), (-2.307970429, 1.921323331), (-2.329935184, 1.925195496), (-2.354532158, 1.928297947), (-2.381656346, 1.930964548), (-2.411444896, 1.932760608), (-2.443700167, 1.933824181), (-2.466056299, 1.933876754), (-2.477629167, 1.933903968)],
                knots=[0, 0, 0, 0, 1.101028733, 2.181837193, 3.264309656, 4.369019818, 5.486613113, 6.575447106, 7.666700264, 8.788928104, 9.402425223, 10.0903467, 10.862060571, 11.710948788, 12.657782767, 13.684531032, 14.801375019, 16, 16, 16, 16], degree=3))
            Line((-2.477629167, 1.933903968), (-2.725676042, 1.933903968))
        make_face(mode=Mode.SUBTRACT)
    # profile 3 of 7: a face of its own
    with BuildSketch(Plane(origin=(0, 5, 0), x_dir=(1, 0, 0), z_dir=(0, 1, 0))):
        Polygon((-1.725008307, 2.069587729), (-1.606285017, 2.069587729), (-1.606285017, 0.882354823), (-1.097470914, 0.882354823), (-1.097470914, 0.746671062), (-1.725008307, 0.746671062), align=None)
    # profile 4 of 7: a face of its own
    with BuildSketch(Plane(origin=(0, 5, 0), x_dir=(1, 0, 0), z_dir=(0, 1, 0))):
        Polygon((-0.944826683, 1.933903968), (-0.944826683, 2.069587729), (-0.24944741, 2.069587729), (-0.80437279, 0.882354823), (-0.26640788, 0.882354823), (-0.26640788, 0.746671062), (-0.995708093, 0.746671062), (-0.440782713, 1.933903968), align=None)
    # profile 5 of 7: a face of its own
    with BuildSketch(Plane(origin=(0, 5, 0), x_dir=(1, 0, 0), z_dir=(0, 1, 0))):
        Polygon((0.608381366, 2.103508669), (0.632497035, 2.103508669), (0.632497035, 1.187643284), (0.785141265, 1.187643284), (0.785141265, 1.051959524), (0.632497035, 1.051959524), (0.632497035, 0.746671062), (0.513773744, 0.746671062), (0.513773744, 1.051959524), (-0.113763649, 1.051959524), align=None)
        Polygon((0.513773744, 1.187643284), (0.513773744, 1.762179208), (0.119442815, 1.187643284), align=None, mode=Mode.SUBTRACT)
    # profile 6 of 7: a face of its own
    with BuildSketch(Plane(origin=(0, 5, 0), x_dir=(1, 0, 0), z_dir=(0, 1, 0))):
        Polygon((1.626009571, 2.103508669), (1.65012524, 2.103508669), (1.65012524, 1.187643284), (1.802769471, 1.187643284), (1.802769471, 1.051959524), (1.65012524, 1.051959524), (1.65012524, 0.746671062), (1.531401949, 0.746671062), (1.531401949, 1.051959524), (0.903864556, 1.051959524), align=None)
        Polygon((1.531401949, 1.187643284), (1.531401949, 1.762179208), (1.13707102, 1.187643284), align=None, mode=Mode.SUBTRACT)
    # profile 7 of 7: a face of its own
    with BuildSketch(Plane(origin=(0, 5, 0), x_dir=(1, 0, 0), z_dir=(0, 1, 0))):
        Polygon((2.040216052, 0.746671062), (2.040216052, 2.069587729), (2.065126742, 2.069587729), (2.939120966, 1.02837387), (2.939120966, 2.069587729), (3.057844257, 2.069587729), (3.057844257, 0.746671062), (3.030813508, 0.746671062), (2.158939342, 1.785499855), (2.158939342, 0.746671062), align=None)
    extrude(amount=-CUT_EXTRUDE4_DEPTH, mode=Mode.SUBTRACT)


solid = part.part
